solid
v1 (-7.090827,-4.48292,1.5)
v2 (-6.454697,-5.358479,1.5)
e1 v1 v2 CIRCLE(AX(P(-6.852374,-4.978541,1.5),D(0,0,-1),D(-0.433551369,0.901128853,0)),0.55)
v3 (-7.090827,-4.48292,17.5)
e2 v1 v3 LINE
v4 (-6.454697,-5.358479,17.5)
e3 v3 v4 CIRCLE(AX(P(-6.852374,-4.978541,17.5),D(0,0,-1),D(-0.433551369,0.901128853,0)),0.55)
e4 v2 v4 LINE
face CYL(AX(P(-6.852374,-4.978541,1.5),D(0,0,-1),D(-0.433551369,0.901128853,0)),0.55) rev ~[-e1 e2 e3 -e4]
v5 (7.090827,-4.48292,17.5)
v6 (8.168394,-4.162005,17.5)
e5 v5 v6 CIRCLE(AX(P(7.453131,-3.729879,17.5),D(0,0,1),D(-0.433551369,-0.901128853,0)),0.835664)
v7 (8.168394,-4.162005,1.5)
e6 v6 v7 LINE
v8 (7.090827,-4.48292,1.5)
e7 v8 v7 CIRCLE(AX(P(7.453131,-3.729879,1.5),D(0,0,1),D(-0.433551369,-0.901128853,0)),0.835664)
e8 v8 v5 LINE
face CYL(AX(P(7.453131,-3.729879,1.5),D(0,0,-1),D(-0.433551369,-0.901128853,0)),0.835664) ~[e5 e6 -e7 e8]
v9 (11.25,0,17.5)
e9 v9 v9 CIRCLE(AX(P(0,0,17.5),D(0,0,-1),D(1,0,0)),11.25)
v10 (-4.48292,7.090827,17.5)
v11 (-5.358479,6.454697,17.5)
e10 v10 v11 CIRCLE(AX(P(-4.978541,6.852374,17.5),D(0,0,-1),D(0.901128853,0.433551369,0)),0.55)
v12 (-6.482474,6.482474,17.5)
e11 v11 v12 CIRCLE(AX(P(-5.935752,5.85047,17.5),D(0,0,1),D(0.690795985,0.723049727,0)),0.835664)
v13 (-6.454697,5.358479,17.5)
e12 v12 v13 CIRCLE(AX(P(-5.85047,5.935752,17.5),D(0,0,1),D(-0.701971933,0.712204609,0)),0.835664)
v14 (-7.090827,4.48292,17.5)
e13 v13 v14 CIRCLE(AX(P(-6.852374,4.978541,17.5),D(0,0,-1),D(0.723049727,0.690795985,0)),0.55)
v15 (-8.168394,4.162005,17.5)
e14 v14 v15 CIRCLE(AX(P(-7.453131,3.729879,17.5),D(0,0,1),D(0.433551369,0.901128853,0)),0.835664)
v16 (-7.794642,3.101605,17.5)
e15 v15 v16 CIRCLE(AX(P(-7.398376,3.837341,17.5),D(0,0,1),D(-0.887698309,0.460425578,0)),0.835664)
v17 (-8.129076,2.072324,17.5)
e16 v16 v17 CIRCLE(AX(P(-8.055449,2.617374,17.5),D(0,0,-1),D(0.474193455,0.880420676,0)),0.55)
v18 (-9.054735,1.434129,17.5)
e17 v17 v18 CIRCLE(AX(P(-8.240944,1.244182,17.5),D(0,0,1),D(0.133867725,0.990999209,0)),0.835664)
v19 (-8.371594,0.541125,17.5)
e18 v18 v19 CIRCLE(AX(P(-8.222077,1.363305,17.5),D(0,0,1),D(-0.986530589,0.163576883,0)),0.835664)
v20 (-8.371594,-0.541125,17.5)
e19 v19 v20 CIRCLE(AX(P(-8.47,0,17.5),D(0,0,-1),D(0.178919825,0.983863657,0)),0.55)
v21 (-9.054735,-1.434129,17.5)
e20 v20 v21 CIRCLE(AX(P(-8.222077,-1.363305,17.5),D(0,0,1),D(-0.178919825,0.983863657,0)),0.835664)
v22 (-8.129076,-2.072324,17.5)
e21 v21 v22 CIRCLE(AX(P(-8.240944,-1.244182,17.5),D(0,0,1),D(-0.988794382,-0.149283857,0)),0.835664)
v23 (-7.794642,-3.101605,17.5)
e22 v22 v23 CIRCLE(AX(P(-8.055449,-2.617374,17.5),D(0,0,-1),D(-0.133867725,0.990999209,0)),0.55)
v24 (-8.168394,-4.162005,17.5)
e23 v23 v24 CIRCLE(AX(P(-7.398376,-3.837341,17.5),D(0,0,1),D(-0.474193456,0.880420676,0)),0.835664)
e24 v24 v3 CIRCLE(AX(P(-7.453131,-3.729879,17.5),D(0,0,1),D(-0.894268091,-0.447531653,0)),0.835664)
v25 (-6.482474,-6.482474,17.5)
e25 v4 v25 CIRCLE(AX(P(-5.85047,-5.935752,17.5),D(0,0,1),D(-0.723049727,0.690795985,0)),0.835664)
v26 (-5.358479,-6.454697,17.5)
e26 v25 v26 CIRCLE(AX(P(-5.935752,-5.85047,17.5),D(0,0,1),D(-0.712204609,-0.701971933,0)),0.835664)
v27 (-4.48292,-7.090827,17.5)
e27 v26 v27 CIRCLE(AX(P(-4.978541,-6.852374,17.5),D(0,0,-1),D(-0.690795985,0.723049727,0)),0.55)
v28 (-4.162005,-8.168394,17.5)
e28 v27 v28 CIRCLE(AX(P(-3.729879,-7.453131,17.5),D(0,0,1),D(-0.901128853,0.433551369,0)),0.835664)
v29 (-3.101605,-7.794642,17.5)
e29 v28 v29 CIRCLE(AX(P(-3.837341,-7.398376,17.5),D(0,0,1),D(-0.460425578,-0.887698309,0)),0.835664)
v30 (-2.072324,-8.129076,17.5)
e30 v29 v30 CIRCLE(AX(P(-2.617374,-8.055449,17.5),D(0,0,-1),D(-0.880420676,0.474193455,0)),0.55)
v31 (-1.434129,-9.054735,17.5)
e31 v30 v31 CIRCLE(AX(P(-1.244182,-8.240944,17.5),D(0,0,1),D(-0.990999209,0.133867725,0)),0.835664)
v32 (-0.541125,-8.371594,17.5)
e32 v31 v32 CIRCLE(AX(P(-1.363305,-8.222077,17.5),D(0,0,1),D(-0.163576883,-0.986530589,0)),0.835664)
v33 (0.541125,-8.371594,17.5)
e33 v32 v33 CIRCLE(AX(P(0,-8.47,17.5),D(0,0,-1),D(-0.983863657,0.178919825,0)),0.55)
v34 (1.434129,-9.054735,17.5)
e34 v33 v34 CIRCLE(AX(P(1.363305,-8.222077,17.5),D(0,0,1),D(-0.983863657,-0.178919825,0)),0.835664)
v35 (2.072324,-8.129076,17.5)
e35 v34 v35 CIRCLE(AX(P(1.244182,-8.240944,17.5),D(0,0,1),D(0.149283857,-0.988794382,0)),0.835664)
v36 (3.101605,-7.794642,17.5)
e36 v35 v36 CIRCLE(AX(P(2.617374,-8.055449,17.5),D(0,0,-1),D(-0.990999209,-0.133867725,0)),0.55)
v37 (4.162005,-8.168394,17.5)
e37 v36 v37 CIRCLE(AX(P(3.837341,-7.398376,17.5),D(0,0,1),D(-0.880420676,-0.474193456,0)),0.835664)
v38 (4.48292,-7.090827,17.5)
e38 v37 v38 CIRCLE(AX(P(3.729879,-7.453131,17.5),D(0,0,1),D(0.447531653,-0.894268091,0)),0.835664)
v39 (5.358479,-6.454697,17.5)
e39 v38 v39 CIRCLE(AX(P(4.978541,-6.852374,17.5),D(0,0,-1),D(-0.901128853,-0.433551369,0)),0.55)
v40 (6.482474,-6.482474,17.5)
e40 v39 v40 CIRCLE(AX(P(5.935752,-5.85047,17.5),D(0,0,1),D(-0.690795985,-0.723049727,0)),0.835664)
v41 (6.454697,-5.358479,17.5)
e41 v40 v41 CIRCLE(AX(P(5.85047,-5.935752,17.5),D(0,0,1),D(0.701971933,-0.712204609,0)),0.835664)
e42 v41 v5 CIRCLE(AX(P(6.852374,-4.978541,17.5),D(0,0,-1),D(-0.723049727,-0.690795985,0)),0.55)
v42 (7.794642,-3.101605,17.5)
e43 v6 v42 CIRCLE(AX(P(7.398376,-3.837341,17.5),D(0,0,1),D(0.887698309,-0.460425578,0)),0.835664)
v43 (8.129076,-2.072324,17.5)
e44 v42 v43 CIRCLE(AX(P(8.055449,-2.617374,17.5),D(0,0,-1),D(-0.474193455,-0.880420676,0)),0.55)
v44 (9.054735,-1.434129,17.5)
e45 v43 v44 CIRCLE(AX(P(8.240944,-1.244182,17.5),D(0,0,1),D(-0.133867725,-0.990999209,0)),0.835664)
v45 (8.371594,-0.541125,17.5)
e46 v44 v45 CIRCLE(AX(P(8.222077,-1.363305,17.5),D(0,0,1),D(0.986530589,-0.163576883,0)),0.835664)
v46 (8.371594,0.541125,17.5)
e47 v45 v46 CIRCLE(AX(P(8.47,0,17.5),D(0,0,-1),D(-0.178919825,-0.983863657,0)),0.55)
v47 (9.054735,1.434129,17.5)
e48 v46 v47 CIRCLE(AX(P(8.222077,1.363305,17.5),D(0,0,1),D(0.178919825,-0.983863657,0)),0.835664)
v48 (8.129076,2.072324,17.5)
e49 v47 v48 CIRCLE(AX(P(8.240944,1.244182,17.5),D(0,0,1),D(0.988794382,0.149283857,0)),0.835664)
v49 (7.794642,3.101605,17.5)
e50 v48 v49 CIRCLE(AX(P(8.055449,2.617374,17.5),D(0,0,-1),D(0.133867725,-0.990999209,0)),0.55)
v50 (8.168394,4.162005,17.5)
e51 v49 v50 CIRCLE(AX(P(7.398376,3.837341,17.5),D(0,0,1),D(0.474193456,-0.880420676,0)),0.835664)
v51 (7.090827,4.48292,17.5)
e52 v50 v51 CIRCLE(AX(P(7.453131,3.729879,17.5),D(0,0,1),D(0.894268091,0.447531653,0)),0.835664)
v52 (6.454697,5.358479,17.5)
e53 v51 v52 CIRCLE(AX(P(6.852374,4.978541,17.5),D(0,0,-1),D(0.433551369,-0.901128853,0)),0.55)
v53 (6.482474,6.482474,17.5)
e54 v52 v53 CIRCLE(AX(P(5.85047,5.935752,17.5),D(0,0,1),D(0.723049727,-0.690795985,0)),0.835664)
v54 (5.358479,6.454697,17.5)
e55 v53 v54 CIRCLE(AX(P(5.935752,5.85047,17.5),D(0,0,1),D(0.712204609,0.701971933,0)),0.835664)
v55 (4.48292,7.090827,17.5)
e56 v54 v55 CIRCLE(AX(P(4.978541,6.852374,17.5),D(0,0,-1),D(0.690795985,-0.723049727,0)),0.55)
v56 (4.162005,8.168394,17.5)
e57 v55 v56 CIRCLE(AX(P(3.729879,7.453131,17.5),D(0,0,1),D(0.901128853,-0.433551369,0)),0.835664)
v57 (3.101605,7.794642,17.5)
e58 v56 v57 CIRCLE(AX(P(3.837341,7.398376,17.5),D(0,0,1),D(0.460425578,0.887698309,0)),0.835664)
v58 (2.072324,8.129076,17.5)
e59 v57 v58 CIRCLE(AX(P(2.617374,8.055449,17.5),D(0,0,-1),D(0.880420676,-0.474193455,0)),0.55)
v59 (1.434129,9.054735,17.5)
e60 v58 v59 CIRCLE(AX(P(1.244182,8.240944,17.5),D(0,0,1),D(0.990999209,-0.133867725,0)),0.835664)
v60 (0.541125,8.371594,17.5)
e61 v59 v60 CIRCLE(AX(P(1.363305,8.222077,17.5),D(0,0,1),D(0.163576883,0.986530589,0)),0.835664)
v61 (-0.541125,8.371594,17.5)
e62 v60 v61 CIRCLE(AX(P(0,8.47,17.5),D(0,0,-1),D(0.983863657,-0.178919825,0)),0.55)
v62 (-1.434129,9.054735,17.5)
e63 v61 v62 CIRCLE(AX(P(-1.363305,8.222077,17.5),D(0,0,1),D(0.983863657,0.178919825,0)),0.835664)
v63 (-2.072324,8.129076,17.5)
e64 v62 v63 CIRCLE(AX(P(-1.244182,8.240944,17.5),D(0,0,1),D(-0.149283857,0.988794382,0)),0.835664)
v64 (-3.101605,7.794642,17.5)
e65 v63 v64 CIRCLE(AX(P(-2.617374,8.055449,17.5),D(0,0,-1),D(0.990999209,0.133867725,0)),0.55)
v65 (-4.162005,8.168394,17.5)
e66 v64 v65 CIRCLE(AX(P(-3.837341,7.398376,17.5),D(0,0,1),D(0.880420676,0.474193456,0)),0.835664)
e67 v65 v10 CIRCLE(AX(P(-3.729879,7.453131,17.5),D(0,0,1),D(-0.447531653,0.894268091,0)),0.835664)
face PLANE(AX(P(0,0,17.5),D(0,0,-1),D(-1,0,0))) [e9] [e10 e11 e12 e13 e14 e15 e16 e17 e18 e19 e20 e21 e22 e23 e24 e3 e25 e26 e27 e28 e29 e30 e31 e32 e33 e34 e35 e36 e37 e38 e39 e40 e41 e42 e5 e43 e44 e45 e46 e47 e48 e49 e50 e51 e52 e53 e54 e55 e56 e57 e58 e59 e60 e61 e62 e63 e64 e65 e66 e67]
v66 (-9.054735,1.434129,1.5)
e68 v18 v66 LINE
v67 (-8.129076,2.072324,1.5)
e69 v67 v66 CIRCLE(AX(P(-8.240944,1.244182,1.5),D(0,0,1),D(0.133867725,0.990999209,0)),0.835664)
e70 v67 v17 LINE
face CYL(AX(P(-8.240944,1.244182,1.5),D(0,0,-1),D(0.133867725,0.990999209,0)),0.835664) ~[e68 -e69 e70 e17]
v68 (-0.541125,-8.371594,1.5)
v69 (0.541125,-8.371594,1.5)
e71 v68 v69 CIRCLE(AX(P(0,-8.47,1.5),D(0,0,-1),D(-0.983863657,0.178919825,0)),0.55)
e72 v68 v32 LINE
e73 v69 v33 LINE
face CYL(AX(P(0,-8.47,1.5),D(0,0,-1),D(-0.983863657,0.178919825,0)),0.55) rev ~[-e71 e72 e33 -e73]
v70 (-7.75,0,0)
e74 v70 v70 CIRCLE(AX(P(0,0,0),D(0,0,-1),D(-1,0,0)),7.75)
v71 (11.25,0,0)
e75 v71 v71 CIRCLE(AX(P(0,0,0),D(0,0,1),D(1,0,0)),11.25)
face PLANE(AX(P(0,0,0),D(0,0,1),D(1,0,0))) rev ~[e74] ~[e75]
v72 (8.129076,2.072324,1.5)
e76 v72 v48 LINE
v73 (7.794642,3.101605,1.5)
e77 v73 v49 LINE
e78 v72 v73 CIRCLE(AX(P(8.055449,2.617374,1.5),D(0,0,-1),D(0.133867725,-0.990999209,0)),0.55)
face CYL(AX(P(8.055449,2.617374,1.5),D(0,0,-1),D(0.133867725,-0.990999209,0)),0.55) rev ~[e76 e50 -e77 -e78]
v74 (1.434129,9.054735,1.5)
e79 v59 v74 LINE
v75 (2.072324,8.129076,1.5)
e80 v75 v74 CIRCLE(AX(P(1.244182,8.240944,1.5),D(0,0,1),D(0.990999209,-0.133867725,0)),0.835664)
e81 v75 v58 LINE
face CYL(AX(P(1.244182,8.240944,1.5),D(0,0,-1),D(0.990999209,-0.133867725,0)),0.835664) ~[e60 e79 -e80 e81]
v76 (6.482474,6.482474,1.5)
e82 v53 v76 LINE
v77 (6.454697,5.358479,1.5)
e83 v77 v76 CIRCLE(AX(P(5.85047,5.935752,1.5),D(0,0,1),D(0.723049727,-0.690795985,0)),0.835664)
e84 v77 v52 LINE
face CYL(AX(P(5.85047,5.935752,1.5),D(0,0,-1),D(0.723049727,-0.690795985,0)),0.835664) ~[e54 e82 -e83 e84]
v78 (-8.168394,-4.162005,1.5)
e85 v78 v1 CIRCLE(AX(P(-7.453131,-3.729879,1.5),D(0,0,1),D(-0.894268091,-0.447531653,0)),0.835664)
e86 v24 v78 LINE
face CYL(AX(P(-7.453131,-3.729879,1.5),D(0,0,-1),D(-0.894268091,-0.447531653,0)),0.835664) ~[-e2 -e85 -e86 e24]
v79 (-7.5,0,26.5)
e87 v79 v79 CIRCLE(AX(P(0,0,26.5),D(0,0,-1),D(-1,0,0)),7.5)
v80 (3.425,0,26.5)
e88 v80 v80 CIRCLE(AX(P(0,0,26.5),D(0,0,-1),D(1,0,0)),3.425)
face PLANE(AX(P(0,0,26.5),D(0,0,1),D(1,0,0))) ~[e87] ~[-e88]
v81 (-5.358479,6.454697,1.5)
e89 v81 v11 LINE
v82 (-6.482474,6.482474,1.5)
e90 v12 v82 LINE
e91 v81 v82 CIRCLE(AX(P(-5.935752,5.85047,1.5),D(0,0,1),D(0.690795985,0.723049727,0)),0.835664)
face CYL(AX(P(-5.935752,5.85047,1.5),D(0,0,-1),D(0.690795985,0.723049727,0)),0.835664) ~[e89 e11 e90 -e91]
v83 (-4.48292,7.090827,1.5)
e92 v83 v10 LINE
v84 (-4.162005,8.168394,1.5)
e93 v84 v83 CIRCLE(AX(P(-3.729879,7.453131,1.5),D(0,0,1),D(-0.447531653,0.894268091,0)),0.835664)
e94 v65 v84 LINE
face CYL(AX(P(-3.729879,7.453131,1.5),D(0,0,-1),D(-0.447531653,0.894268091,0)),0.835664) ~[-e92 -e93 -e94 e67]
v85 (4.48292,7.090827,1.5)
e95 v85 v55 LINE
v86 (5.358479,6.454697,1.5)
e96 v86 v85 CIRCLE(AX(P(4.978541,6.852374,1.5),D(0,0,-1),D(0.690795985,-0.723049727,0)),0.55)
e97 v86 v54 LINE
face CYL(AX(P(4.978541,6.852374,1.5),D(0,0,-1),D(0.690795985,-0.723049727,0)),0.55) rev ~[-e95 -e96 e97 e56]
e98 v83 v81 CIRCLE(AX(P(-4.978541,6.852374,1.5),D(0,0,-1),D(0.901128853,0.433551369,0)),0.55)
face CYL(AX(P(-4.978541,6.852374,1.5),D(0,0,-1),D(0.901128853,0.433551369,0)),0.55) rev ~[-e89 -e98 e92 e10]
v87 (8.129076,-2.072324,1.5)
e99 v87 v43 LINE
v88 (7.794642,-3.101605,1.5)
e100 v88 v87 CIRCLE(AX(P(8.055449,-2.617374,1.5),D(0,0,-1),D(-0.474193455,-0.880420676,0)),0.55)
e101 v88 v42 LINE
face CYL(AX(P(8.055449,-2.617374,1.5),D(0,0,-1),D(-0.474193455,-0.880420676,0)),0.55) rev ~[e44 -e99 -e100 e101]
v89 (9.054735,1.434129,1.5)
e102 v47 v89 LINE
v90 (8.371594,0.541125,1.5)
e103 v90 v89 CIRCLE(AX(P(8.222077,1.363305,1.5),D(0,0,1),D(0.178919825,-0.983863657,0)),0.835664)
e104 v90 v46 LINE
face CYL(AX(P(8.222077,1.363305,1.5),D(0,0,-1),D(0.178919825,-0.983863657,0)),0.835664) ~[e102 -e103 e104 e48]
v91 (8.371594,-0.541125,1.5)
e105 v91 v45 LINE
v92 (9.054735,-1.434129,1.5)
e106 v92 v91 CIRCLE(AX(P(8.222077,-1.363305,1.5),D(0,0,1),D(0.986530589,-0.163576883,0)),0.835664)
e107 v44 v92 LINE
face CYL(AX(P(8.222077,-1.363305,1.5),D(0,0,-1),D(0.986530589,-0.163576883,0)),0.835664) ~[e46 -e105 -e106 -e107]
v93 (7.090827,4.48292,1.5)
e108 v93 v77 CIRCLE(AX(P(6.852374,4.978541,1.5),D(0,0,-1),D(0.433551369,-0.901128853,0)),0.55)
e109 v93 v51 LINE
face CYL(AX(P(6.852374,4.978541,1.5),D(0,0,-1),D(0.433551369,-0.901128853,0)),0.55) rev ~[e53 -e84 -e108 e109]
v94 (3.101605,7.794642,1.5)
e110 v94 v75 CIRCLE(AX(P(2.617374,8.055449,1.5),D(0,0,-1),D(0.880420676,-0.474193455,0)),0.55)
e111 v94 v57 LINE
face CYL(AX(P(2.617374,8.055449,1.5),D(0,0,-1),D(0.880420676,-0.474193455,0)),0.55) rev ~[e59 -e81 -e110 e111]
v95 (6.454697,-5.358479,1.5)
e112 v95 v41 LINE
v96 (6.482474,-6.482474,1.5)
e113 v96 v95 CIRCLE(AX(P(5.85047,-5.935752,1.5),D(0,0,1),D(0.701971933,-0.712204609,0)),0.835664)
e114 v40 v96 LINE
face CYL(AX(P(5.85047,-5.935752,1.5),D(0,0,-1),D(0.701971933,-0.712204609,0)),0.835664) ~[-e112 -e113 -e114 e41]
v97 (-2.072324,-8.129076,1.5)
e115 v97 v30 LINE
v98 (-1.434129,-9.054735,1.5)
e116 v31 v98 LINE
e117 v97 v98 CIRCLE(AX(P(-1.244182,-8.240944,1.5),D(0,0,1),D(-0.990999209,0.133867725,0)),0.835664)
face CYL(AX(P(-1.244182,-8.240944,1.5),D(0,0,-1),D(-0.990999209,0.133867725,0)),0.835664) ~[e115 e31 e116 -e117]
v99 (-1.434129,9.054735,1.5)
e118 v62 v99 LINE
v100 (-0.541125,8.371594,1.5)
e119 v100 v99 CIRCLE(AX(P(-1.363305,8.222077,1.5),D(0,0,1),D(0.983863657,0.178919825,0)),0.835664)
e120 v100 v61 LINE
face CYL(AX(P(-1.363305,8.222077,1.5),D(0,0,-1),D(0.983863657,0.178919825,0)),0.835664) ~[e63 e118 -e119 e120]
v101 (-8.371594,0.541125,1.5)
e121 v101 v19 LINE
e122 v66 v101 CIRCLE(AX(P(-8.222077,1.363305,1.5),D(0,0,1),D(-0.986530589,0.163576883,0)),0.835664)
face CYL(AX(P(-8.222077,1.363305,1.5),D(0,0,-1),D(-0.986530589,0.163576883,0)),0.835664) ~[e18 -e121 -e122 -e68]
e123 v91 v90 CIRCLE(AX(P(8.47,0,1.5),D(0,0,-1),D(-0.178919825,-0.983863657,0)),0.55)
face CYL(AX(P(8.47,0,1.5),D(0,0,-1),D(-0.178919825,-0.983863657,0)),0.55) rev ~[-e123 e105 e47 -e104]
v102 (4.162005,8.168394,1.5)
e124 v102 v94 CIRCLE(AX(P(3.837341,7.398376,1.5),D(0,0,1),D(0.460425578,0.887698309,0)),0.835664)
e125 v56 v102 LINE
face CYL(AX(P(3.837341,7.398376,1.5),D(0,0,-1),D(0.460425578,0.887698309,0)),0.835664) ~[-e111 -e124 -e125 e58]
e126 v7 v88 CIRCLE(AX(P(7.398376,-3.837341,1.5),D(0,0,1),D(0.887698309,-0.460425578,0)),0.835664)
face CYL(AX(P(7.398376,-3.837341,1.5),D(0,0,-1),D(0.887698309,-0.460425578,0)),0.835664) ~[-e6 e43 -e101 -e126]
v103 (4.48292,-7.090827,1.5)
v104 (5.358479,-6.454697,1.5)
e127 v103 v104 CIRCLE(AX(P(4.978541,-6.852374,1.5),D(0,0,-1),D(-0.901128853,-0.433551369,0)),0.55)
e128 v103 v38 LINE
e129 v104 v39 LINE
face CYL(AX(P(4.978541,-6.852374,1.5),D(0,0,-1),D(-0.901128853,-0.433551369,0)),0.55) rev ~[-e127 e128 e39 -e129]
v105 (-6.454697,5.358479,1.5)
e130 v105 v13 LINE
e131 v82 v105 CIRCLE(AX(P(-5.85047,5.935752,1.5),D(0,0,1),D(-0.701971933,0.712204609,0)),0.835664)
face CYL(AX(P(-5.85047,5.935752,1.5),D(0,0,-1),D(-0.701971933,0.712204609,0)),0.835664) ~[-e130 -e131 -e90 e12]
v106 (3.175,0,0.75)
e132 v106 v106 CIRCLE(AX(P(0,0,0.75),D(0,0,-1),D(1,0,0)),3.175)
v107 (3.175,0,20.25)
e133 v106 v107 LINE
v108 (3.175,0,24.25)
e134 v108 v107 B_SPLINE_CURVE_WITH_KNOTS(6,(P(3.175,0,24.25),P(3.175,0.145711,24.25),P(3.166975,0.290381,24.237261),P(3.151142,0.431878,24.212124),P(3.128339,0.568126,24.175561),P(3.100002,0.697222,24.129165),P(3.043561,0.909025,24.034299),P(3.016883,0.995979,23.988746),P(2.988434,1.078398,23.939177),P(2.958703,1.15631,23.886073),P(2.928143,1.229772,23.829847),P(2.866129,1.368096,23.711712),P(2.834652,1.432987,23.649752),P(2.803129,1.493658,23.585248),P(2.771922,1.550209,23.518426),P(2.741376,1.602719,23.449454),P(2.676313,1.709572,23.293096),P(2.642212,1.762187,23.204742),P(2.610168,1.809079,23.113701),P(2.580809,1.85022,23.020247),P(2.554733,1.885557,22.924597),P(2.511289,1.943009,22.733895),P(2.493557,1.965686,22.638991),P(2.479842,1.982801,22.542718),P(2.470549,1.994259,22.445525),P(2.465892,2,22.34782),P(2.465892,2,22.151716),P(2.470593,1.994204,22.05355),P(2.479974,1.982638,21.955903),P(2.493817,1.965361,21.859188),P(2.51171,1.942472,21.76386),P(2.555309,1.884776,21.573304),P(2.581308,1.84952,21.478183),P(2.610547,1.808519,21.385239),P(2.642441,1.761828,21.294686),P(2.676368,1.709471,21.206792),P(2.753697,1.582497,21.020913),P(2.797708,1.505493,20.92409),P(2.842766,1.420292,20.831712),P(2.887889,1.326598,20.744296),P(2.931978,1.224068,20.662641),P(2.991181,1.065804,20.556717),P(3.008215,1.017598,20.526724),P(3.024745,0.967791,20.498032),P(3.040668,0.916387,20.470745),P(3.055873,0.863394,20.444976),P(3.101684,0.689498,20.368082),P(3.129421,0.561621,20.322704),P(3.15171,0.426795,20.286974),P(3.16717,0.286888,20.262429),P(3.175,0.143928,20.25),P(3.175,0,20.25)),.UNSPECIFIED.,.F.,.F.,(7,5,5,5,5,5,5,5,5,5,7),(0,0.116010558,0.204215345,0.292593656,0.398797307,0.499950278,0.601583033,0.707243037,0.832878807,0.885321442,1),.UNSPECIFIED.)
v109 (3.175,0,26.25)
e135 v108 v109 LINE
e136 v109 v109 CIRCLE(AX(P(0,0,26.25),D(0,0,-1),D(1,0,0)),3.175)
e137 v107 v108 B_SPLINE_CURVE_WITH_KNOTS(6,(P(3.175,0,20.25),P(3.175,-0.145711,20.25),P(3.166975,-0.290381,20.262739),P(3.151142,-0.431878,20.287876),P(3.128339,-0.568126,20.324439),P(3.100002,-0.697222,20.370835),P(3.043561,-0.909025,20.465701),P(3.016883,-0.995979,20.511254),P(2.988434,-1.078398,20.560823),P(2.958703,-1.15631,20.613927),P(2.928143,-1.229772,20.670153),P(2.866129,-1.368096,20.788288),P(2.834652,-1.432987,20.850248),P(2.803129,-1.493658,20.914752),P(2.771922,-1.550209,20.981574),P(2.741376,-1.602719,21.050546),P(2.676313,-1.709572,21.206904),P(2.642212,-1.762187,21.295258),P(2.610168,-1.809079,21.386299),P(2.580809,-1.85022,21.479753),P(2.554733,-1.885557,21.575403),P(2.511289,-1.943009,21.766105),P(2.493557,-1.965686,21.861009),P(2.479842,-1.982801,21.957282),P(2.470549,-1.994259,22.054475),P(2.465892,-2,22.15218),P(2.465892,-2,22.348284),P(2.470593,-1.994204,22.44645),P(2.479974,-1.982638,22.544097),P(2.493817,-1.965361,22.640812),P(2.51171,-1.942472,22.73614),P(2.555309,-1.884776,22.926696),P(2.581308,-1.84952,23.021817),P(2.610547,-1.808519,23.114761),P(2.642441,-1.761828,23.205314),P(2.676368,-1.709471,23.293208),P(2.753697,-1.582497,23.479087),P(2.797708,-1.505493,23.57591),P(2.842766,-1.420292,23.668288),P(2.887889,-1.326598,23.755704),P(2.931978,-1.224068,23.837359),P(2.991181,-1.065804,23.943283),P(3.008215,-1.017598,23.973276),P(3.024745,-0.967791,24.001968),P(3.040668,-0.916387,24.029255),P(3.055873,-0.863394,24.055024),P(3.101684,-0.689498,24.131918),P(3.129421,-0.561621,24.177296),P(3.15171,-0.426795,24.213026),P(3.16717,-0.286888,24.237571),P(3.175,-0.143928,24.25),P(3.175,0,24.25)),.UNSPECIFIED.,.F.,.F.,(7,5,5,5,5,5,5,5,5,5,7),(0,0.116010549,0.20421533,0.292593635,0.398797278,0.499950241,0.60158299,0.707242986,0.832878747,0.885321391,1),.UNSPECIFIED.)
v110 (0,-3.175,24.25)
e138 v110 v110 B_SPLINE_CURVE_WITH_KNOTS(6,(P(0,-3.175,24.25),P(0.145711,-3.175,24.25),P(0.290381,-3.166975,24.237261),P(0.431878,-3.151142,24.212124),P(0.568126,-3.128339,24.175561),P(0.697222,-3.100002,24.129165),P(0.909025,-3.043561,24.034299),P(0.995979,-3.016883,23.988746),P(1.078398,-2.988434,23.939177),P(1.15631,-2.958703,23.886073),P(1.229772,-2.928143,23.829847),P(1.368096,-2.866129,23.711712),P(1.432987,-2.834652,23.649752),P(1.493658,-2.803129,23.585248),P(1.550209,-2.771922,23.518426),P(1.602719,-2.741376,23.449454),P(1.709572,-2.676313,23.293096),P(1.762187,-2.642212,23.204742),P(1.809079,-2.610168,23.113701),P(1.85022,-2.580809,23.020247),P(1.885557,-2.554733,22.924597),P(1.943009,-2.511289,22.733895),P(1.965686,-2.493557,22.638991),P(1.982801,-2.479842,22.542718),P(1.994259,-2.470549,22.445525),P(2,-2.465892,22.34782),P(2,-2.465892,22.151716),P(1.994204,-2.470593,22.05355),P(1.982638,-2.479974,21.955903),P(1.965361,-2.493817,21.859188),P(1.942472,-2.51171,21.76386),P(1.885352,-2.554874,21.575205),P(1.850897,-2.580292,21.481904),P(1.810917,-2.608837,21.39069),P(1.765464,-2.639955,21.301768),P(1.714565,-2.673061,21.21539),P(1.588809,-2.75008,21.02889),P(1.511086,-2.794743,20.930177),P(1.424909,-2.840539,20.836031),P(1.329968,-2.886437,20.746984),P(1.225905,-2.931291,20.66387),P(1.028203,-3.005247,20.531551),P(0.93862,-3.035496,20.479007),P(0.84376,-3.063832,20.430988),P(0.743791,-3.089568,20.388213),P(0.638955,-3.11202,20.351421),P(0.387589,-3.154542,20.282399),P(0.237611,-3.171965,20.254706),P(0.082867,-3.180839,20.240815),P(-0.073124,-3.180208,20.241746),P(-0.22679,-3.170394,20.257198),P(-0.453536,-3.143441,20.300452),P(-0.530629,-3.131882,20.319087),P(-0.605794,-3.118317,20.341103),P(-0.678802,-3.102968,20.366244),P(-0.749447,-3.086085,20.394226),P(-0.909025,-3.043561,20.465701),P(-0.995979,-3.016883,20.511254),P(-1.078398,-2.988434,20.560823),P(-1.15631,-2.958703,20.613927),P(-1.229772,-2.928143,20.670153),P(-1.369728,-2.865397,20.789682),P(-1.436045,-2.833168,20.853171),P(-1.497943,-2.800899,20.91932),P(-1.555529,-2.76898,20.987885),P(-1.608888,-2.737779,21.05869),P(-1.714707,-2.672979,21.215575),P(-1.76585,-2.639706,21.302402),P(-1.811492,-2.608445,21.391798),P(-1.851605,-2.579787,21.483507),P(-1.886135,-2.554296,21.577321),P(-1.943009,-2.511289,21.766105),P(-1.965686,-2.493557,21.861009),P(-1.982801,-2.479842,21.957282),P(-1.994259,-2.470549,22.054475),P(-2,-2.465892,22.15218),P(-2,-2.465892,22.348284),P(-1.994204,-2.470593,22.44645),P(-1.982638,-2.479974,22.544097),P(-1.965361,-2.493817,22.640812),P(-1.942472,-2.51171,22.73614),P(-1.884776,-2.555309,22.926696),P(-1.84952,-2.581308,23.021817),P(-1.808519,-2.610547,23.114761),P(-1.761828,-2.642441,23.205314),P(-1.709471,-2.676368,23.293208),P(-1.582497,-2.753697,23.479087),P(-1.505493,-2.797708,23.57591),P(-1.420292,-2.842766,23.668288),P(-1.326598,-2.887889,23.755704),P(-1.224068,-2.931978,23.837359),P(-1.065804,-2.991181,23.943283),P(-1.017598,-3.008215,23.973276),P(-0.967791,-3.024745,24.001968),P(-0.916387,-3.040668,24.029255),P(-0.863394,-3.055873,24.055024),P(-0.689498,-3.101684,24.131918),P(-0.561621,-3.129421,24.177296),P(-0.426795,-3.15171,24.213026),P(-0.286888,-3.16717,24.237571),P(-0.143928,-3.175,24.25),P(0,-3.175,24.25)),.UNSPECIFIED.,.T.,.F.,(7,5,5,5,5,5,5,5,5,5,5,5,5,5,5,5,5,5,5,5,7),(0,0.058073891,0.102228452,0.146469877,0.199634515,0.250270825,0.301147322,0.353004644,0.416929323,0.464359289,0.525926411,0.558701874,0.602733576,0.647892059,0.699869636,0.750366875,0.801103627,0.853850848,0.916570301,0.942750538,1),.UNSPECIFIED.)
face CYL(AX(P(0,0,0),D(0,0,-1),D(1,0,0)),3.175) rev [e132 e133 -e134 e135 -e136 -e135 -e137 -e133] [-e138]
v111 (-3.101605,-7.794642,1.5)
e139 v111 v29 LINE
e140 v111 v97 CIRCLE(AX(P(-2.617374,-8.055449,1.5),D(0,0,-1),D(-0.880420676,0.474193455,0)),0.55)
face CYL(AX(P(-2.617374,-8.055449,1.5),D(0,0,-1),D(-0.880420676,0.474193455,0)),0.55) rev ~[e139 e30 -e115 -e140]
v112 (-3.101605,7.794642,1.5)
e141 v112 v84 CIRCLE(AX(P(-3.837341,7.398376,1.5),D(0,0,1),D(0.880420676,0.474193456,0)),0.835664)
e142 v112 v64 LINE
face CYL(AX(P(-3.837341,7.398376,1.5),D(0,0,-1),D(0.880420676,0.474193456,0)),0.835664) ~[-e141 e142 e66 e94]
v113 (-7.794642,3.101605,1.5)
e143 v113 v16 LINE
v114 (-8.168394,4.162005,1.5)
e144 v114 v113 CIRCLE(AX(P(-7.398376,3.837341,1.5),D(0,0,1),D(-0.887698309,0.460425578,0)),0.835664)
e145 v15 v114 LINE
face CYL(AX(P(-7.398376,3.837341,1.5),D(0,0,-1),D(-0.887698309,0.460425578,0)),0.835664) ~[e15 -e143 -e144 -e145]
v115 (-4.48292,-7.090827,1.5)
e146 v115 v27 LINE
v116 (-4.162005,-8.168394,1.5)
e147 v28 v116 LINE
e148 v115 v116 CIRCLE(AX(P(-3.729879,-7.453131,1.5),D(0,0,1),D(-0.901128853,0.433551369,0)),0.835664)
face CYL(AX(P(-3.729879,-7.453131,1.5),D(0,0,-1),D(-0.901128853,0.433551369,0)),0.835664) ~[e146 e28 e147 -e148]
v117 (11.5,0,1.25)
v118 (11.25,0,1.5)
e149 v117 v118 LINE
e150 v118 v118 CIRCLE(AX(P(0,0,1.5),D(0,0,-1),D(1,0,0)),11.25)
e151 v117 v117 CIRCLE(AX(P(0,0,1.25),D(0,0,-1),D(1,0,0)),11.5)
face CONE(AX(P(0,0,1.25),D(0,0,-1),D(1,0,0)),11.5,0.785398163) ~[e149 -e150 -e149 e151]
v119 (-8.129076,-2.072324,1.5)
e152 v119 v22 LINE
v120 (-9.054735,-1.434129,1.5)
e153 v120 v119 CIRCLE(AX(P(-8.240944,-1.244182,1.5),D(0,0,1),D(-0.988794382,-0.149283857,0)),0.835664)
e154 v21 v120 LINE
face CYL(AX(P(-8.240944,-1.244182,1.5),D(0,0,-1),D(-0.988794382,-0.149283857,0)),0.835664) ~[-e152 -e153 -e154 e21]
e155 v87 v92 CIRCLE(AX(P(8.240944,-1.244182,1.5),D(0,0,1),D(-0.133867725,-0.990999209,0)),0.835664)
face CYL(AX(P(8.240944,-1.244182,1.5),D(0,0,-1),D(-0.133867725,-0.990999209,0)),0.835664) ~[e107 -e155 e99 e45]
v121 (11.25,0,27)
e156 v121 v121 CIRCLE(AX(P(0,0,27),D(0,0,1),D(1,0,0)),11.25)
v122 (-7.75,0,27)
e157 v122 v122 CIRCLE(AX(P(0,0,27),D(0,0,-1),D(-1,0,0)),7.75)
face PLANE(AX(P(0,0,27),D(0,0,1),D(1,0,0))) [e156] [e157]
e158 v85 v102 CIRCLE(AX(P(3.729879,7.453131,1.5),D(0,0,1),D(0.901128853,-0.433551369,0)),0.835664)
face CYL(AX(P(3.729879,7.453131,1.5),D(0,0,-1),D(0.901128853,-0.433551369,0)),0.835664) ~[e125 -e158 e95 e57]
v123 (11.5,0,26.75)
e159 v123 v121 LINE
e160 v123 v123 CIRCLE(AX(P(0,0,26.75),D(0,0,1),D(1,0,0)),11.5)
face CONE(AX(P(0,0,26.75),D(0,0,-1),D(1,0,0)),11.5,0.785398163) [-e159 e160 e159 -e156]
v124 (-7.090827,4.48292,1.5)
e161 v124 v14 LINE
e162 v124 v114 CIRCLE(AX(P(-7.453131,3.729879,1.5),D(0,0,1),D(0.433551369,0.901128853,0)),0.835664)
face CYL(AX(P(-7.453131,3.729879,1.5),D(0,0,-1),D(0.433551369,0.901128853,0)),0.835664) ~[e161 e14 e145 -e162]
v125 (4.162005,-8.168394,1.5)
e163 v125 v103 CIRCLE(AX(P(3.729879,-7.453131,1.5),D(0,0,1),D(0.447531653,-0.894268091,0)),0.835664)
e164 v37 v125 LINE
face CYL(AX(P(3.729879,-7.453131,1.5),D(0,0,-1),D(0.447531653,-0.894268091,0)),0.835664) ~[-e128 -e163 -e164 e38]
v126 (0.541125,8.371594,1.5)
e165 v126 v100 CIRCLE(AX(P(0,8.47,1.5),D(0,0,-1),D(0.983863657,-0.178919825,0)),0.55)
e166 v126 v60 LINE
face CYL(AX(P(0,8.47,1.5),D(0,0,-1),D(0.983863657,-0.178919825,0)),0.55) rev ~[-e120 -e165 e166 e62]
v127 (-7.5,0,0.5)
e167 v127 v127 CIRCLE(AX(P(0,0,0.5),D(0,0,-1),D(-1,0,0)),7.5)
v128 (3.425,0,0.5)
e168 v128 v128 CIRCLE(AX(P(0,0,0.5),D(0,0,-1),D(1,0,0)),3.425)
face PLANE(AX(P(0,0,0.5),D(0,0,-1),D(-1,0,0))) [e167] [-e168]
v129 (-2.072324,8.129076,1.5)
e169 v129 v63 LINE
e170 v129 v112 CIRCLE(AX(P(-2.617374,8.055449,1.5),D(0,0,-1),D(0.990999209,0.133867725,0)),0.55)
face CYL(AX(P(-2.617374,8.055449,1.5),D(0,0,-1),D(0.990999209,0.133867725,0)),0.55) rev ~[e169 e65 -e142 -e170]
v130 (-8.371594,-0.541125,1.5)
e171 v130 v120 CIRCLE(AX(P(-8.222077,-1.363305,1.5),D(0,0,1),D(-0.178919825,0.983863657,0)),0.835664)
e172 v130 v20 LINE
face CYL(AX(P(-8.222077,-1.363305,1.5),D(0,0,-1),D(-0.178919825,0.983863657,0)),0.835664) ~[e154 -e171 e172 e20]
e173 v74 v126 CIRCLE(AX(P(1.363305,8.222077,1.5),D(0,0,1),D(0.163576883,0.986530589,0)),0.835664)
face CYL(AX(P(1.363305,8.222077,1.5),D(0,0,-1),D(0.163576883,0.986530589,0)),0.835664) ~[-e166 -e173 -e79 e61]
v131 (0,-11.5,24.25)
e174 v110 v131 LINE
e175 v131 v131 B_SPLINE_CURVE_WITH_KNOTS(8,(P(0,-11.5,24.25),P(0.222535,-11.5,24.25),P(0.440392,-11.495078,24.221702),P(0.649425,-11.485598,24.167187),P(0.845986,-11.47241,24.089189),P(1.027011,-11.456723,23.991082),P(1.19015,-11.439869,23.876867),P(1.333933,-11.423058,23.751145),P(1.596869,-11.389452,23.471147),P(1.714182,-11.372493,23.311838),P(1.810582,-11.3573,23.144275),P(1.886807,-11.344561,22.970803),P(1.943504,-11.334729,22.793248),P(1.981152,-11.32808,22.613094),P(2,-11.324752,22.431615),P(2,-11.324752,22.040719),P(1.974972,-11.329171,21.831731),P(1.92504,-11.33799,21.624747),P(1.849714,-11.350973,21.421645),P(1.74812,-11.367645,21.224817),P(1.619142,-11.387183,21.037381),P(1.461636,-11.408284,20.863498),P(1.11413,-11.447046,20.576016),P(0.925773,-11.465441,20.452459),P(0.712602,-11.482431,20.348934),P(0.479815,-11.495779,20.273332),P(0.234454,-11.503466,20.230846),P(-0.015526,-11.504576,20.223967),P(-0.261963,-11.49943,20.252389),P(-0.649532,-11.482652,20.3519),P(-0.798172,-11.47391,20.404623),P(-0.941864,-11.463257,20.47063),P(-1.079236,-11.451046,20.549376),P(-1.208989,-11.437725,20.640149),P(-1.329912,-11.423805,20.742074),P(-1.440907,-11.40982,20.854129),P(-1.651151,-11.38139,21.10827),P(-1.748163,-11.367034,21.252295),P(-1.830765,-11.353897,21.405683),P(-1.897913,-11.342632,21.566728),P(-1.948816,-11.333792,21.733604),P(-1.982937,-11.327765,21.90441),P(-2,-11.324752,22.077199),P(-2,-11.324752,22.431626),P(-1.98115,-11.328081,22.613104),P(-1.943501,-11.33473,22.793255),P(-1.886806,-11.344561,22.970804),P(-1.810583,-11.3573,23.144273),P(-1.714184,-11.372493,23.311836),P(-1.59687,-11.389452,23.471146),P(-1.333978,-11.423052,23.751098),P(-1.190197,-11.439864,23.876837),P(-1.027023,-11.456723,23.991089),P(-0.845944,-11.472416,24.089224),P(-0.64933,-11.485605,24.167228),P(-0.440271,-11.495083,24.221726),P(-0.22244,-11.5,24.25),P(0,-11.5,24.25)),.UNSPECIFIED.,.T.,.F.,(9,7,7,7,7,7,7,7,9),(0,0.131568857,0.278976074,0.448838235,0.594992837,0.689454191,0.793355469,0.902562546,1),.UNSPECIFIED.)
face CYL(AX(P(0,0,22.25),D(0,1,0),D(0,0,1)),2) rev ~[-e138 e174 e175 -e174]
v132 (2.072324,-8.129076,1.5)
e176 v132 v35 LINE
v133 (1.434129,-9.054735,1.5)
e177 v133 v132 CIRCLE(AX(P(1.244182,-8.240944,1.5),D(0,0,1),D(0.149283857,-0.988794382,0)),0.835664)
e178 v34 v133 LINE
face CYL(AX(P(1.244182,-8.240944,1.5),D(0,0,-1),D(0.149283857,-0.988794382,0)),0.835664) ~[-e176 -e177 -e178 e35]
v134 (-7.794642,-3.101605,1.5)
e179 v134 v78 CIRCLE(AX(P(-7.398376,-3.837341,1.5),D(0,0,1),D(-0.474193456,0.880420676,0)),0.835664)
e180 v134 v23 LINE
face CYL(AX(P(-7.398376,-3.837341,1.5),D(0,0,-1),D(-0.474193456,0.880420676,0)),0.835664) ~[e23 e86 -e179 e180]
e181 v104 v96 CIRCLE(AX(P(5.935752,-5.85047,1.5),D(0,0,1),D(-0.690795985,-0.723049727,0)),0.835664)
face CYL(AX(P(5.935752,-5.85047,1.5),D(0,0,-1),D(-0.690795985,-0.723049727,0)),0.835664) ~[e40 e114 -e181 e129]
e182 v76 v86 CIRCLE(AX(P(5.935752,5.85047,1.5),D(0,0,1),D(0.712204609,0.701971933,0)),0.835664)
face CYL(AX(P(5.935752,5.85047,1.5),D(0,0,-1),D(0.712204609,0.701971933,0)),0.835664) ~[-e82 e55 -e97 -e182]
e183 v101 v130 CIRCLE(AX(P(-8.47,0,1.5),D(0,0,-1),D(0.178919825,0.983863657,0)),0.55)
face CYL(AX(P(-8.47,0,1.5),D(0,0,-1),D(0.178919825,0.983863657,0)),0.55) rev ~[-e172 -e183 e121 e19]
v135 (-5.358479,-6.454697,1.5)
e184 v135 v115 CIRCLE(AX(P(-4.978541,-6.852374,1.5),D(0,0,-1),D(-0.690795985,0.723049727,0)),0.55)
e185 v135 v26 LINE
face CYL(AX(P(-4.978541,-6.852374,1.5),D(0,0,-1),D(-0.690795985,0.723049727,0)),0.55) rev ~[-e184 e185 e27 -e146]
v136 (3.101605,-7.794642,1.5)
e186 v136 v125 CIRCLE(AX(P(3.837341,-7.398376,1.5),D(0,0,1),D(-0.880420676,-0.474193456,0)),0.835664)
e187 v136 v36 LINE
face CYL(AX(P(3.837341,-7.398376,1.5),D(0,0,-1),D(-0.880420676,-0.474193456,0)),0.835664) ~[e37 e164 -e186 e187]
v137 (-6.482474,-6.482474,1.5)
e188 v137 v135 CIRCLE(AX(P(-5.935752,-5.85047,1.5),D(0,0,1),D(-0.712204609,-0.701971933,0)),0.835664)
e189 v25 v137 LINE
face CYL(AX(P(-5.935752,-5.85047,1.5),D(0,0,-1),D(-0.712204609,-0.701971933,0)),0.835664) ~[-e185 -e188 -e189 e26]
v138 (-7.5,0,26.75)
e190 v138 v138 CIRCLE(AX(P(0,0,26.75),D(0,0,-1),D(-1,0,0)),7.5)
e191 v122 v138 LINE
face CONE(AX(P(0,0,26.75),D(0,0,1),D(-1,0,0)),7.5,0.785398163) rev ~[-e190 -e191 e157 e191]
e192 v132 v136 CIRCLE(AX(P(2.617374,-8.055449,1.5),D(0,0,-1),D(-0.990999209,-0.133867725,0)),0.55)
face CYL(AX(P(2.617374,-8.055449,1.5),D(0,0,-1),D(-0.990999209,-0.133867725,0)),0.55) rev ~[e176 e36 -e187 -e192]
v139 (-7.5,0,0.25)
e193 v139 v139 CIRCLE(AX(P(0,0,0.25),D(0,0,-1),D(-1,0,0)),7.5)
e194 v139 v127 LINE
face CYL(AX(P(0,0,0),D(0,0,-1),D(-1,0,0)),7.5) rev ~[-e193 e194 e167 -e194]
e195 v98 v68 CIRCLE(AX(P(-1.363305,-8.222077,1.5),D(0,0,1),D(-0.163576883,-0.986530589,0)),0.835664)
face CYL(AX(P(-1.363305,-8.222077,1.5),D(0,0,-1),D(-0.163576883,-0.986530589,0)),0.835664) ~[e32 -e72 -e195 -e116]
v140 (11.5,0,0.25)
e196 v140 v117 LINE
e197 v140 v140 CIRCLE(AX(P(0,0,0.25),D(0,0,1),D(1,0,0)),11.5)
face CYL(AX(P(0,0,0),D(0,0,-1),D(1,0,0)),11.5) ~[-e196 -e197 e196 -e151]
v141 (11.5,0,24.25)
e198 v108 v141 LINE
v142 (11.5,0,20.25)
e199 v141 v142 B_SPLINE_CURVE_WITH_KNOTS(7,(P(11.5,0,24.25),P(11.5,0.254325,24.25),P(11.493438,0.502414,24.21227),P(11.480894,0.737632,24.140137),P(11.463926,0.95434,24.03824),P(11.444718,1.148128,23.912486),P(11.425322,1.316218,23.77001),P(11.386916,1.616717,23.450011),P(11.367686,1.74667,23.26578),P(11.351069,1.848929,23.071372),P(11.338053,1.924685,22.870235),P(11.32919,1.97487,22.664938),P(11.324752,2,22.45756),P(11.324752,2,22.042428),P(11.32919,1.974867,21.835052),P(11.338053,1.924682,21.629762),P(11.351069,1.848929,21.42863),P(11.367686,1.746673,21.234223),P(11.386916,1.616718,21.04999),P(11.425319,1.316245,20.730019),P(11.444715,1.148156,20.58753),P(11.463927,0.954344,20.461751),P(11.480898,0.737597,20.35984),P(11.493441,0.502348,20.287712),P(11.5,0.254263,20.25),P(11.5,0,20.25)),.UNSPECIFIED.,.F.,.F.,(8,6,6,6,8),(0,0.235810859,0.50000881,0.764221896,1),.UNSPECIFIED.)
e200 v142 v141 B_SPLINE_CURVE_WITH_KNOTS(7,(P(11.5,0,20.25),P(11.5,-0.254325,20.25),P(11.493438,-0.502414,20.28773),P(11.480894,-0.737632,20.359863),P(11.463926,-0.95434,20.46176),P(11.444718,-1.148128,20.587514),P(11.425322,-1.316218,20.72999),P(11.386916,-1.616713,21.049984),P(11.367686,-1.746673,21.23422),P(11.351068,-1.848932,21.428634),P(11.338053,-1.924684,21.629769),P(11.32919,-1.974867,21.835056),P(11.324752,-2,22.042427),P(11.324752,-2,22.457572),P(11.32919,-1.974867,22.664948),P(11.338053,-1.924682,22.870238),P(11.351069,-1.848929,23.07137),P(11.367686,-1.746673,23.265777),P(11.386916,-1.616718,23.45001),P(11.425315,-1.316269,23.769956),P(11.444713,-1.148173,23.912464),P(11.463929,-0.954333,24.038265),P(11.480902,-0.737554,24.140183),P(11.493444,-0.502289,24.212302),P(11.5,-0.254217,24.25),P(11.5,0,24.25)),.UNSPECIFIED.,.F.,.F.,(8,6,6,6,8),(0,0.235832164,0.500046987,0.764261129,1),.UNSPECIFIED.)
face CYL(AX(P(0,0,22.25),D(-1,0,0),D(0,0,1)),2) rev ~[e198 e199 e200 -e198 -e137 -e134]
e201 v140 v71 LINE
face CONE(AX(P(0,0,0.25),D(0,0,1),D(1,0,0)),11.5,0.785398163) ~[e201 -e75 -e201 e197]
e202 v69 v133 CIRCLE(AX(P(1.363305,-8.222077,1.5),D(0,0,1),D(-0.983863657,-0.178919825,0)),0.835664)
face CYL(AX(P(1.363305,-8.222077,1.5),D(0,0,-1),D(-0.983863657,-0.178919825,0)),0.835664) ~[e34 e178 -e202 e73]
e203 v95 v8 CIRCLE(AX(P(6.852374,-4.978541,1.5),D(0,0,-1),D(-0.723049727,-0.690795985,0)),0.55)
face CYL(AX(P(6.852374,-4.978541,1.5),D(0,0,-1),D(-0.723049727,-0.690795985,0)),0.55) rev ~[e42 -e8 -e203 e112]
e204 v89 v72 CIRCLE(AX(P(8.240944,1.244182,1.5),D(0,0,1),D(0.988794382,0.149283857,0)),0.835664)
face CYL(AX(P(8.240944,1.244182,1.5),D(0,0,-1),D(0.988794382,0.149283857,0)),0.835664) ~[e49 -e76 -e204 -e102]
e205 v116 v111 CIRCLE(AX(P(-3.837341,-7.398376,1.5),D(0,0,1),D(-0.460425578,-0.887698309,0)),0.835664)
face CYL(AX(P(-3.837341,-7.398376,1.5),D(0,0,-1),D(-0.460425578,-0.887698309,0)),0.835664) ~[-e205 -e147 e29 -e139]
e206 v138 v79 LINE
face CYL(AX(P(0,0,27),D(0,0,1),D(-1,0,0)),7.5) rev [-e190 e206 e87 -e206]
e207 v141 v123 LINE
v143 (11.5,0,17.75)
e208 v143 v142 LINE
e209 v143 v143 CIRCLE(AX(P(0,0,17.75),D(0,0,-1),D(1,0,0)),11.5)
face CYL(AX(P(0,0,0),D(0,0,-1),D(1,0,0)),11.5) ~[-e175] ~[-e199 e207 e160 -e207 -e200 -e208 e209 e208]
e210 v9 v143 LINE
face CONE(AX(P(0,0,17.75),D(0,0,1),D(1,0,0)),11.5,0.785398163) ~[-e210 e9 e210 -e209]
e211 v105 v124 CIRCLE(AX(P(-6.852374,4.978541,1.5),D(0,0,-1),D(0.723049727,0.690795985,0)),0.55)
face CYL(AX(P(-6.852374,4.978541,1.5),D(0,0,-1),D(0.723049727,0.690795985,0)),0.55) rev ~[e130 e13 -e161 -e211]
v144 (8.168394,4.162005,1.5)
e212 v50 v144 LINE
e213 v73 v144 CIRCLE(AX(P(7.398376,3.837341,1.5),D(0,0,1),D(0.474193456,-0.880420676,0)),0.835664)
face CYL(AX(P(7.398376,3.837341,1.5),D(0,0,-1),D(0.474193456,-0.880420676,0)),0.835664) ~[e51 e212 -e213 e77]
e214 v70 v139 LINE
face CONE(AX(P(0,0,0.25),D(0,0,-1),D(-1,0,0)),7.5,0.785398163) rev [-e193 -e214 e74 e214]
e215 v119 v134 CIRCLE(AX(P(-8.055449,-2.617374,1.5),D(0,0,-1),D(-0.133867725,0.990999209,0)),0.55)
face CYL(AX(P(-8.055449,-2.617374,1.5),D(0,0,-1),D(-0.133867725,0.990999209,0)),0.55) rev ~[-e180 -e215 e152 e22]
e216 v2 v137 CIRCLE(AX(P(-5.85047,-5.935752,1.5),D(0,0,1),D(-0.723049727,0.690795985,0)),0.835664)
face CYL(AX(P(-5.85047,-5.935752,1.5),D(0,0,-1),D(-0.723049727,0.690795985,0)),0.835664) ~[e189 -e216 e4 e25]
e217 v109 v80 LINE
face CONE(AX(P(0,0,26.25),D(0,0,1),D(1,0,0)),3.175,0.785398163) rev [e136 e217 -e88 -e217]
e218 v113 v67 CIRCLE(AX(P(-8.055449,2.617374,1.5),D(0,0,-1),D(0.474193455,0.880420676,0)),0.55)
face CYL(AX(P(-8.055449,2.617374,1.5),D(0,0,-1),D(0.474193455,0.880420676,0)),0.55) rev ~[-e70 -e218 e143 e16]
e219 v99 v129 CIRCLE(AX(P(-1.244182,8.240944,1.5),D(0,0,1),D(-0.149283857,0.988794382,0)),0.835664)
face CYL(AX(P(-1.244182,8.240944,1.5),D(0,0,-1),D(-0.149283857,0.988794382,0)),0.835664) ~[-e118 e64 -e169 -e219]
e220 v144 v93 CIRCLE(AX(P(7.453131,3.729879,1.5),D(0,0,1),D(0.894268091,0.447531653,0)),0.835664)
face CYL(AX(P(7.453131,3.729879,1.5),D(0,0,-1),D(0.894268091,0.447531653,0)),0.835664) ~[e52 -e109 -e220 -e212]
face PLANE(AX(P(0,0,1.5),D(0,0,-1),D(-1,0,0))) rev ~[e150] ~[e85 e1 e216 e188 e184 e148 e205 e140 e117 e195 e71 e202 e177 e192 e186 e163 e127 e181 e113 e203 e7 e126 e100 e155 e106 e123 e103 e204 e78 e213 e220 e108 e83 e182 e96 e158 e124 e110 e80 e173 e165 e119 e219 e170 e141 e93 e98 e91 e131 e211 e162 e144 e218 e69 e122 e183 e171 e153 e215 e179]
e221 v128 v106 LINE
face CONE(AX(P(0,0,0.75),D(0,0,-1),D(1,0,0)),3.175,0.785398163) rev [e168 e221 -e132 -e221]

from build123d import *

# Parameters (mm, degrees)
ESQUISSE1_R                  = 11.5
ESQUISSE1_R_2                = 3.175
BOSS_EXTRU_1_DEPTH           = 27
ESQUISSE2_R                  = 11.5
ESQUISSE2_R_2                = 9.17
ENL_V_MAT_EXTRU_1_DEPTH      = 16
ENL_V_START                  = 16
ENL_V_MAT_EXTRU_2_DEPTH      = 16
R_P_TITION_CIRCULAIRE1_COUNT = 20
ESQUISSE4_R                  = 2
ENL_V_MAT_EXTRU_3_DEPTH      = 16
R_P_TITION_CIRCULAIRE2_COUNT = 2
R_P_TITION_CIRCULAIRE2_ANGLE = 90
ESQUISSE5_R                  = 7.5
ENL_V_MAT_EXTRU_4_DEPTH      = 0.5
CHANFREIN1_SIZE              = 0.25


with BuildPart() as part:
    # Esquisse1 → Boss.-Extru.1 (new body)
    with BuildSketch(Plane.XY):
        Circle(ESQUISSE1_R)
        Circle(ESQUISSE1_R_2, mode=Mode.SUBTRACT)
    extrude(amount=BOSS_EXTRU_1_DEPTH)

    # Esquisse2 → Enlèv. mat.-Extru.1 (cut)
    with BuildSketch(Plane(origin=(0, 0, 1.5), x_dir=(-1, 0, 0), z_dir=(0, 0, -1))):
        Circle(ESQUISSE2_R)
        Circle(ESQUISSE2_R_2, mode=Mode.SUBTRACT)
    extrude(amount=-ENL_V_MAT_EXTRU_1_DEPTH, mode=Mode.SUBTRACT)

    # Esquisse3 → Enlèv. mat.-Extru.2 (cut)
    with BuildSketch(Plane(origin=(0, 0, 17.5), x_dir=(-1, 0, 0), z_dir=(0, 0, -1)).offset(ENL_V_START)):
        with BuildLine():
            ThreePointArc((-1.5, 9.046485505), (-0.88232463, 8.905445978), (-0.541125011, 8.371594096))
            ThreePointArc((-0.541125011, 8.371594096), (0, 7.92), (0.541125011, 8.371594096))
            ThreePointArc((0.541125011, 8.371594096), (0.88232463, 8.905445978), (1.5, 9.046485505))
            ThreePointArc((1.5, 9.046485505), (0, 9.17), (-1.5, 9.046485505))
        make_face()
    enl_v_mat_extru_2 = extrude(amount=-ENL_V_MAT_EXTRU_2_DEPTH, mode=Mode.SUBTRACT)

    # Répétition circulaire1: Enlèv. mat.-Extru.2 ×20 about axis
    r_p_tition_circulaire1_axis = Axis((0, 0, 0), (0, 0, 1))
    for i in range(1, R_P_TITION_CIRCULAIRE1_COUNT):
        add(enl_v_mat_extru_2.rotate(r_p_tition_circulaire1_axis, i * 360 / R_P_TITION_CIRCULAIRE1_COUNT), mode=Mode.SUBTRACT)

    # Esquisse4 → Enlèv. mat.-Extru.3 (cut)
    with BuildSketch(Plane(origin=(0, 0, 0), x_dir=(1, 0, 0), z_dir=(0, 1, 0))):
        with Locations(Location((0, -22.25, 0), (0, 0, 270))):
            Circle(ESQUISSE4_R)
    enl_v_mat_extru_3 = extrude(amount=-ENL_V_MAT_EXTRU_3_DEPTH, mode=Mode.SUBTRACT)

    # Répétition circulaire2: Enlèv. mat.-Extru.3 ×2 about axis
    r_p_tition_circulaire2_axis = Axis((0, 0, 27), (0, 0, 1))
    for i in range(1, R_P_TITION_CIRCULAIRE2_COUNT):
        add(enl_v_mat_extru_3.rotate(r_p_tition_circulaire2_axis, i * R_P_TITION_CIRCULAIRE2_ANGLE / (R_P_TITION_CIRCULAIRE2_COUNT - 1)), mode=Mode.SUBTRACT)

    # Esquisse5 → Enlèv. mat.-Extru.4 (cut)
    with BuildSketch(Plane(origin=(0, 0, 0), x_dir=(-1, 0, 0), z_dir=(0, 0, -1))):
        Circle(ESQUISSE5_R)
    enl_v_mat_extru_4 = extrude(amount=-ENL_V_MAT_EXTRU_4_DEPTH, mode=Mode.SUBTRACT)

    # Symétrie1: Enlèv. mat.-Extru.4 across plane
    add(enl_v_mat_extru_4.mirror(Plane(origin=(0, 0, 13.5), x_dir=(1, 0, 0), z_dir=(0, 0, -1))), mode=Mode.SUBTRACT)

    # Chanfrein1
    chanfrein1_edges = [part.edges().sort_by_distance(p)[0] for p in [
        (-11.5, 0, 17.5),
        (-11.5, 0, 1.5),
        (-3.175, 0, 0.5),
        (7.5, 0, 0),
        (-11.5, 0, 0),
        (7.5, 0, 27),
        (-3.175, 0, 26.5),
        (-11.5, 0, 27),
    ]]
    chamfer(chanfrein1_edges, length=CHANFREIN1_SIZE)


solid = part.part
